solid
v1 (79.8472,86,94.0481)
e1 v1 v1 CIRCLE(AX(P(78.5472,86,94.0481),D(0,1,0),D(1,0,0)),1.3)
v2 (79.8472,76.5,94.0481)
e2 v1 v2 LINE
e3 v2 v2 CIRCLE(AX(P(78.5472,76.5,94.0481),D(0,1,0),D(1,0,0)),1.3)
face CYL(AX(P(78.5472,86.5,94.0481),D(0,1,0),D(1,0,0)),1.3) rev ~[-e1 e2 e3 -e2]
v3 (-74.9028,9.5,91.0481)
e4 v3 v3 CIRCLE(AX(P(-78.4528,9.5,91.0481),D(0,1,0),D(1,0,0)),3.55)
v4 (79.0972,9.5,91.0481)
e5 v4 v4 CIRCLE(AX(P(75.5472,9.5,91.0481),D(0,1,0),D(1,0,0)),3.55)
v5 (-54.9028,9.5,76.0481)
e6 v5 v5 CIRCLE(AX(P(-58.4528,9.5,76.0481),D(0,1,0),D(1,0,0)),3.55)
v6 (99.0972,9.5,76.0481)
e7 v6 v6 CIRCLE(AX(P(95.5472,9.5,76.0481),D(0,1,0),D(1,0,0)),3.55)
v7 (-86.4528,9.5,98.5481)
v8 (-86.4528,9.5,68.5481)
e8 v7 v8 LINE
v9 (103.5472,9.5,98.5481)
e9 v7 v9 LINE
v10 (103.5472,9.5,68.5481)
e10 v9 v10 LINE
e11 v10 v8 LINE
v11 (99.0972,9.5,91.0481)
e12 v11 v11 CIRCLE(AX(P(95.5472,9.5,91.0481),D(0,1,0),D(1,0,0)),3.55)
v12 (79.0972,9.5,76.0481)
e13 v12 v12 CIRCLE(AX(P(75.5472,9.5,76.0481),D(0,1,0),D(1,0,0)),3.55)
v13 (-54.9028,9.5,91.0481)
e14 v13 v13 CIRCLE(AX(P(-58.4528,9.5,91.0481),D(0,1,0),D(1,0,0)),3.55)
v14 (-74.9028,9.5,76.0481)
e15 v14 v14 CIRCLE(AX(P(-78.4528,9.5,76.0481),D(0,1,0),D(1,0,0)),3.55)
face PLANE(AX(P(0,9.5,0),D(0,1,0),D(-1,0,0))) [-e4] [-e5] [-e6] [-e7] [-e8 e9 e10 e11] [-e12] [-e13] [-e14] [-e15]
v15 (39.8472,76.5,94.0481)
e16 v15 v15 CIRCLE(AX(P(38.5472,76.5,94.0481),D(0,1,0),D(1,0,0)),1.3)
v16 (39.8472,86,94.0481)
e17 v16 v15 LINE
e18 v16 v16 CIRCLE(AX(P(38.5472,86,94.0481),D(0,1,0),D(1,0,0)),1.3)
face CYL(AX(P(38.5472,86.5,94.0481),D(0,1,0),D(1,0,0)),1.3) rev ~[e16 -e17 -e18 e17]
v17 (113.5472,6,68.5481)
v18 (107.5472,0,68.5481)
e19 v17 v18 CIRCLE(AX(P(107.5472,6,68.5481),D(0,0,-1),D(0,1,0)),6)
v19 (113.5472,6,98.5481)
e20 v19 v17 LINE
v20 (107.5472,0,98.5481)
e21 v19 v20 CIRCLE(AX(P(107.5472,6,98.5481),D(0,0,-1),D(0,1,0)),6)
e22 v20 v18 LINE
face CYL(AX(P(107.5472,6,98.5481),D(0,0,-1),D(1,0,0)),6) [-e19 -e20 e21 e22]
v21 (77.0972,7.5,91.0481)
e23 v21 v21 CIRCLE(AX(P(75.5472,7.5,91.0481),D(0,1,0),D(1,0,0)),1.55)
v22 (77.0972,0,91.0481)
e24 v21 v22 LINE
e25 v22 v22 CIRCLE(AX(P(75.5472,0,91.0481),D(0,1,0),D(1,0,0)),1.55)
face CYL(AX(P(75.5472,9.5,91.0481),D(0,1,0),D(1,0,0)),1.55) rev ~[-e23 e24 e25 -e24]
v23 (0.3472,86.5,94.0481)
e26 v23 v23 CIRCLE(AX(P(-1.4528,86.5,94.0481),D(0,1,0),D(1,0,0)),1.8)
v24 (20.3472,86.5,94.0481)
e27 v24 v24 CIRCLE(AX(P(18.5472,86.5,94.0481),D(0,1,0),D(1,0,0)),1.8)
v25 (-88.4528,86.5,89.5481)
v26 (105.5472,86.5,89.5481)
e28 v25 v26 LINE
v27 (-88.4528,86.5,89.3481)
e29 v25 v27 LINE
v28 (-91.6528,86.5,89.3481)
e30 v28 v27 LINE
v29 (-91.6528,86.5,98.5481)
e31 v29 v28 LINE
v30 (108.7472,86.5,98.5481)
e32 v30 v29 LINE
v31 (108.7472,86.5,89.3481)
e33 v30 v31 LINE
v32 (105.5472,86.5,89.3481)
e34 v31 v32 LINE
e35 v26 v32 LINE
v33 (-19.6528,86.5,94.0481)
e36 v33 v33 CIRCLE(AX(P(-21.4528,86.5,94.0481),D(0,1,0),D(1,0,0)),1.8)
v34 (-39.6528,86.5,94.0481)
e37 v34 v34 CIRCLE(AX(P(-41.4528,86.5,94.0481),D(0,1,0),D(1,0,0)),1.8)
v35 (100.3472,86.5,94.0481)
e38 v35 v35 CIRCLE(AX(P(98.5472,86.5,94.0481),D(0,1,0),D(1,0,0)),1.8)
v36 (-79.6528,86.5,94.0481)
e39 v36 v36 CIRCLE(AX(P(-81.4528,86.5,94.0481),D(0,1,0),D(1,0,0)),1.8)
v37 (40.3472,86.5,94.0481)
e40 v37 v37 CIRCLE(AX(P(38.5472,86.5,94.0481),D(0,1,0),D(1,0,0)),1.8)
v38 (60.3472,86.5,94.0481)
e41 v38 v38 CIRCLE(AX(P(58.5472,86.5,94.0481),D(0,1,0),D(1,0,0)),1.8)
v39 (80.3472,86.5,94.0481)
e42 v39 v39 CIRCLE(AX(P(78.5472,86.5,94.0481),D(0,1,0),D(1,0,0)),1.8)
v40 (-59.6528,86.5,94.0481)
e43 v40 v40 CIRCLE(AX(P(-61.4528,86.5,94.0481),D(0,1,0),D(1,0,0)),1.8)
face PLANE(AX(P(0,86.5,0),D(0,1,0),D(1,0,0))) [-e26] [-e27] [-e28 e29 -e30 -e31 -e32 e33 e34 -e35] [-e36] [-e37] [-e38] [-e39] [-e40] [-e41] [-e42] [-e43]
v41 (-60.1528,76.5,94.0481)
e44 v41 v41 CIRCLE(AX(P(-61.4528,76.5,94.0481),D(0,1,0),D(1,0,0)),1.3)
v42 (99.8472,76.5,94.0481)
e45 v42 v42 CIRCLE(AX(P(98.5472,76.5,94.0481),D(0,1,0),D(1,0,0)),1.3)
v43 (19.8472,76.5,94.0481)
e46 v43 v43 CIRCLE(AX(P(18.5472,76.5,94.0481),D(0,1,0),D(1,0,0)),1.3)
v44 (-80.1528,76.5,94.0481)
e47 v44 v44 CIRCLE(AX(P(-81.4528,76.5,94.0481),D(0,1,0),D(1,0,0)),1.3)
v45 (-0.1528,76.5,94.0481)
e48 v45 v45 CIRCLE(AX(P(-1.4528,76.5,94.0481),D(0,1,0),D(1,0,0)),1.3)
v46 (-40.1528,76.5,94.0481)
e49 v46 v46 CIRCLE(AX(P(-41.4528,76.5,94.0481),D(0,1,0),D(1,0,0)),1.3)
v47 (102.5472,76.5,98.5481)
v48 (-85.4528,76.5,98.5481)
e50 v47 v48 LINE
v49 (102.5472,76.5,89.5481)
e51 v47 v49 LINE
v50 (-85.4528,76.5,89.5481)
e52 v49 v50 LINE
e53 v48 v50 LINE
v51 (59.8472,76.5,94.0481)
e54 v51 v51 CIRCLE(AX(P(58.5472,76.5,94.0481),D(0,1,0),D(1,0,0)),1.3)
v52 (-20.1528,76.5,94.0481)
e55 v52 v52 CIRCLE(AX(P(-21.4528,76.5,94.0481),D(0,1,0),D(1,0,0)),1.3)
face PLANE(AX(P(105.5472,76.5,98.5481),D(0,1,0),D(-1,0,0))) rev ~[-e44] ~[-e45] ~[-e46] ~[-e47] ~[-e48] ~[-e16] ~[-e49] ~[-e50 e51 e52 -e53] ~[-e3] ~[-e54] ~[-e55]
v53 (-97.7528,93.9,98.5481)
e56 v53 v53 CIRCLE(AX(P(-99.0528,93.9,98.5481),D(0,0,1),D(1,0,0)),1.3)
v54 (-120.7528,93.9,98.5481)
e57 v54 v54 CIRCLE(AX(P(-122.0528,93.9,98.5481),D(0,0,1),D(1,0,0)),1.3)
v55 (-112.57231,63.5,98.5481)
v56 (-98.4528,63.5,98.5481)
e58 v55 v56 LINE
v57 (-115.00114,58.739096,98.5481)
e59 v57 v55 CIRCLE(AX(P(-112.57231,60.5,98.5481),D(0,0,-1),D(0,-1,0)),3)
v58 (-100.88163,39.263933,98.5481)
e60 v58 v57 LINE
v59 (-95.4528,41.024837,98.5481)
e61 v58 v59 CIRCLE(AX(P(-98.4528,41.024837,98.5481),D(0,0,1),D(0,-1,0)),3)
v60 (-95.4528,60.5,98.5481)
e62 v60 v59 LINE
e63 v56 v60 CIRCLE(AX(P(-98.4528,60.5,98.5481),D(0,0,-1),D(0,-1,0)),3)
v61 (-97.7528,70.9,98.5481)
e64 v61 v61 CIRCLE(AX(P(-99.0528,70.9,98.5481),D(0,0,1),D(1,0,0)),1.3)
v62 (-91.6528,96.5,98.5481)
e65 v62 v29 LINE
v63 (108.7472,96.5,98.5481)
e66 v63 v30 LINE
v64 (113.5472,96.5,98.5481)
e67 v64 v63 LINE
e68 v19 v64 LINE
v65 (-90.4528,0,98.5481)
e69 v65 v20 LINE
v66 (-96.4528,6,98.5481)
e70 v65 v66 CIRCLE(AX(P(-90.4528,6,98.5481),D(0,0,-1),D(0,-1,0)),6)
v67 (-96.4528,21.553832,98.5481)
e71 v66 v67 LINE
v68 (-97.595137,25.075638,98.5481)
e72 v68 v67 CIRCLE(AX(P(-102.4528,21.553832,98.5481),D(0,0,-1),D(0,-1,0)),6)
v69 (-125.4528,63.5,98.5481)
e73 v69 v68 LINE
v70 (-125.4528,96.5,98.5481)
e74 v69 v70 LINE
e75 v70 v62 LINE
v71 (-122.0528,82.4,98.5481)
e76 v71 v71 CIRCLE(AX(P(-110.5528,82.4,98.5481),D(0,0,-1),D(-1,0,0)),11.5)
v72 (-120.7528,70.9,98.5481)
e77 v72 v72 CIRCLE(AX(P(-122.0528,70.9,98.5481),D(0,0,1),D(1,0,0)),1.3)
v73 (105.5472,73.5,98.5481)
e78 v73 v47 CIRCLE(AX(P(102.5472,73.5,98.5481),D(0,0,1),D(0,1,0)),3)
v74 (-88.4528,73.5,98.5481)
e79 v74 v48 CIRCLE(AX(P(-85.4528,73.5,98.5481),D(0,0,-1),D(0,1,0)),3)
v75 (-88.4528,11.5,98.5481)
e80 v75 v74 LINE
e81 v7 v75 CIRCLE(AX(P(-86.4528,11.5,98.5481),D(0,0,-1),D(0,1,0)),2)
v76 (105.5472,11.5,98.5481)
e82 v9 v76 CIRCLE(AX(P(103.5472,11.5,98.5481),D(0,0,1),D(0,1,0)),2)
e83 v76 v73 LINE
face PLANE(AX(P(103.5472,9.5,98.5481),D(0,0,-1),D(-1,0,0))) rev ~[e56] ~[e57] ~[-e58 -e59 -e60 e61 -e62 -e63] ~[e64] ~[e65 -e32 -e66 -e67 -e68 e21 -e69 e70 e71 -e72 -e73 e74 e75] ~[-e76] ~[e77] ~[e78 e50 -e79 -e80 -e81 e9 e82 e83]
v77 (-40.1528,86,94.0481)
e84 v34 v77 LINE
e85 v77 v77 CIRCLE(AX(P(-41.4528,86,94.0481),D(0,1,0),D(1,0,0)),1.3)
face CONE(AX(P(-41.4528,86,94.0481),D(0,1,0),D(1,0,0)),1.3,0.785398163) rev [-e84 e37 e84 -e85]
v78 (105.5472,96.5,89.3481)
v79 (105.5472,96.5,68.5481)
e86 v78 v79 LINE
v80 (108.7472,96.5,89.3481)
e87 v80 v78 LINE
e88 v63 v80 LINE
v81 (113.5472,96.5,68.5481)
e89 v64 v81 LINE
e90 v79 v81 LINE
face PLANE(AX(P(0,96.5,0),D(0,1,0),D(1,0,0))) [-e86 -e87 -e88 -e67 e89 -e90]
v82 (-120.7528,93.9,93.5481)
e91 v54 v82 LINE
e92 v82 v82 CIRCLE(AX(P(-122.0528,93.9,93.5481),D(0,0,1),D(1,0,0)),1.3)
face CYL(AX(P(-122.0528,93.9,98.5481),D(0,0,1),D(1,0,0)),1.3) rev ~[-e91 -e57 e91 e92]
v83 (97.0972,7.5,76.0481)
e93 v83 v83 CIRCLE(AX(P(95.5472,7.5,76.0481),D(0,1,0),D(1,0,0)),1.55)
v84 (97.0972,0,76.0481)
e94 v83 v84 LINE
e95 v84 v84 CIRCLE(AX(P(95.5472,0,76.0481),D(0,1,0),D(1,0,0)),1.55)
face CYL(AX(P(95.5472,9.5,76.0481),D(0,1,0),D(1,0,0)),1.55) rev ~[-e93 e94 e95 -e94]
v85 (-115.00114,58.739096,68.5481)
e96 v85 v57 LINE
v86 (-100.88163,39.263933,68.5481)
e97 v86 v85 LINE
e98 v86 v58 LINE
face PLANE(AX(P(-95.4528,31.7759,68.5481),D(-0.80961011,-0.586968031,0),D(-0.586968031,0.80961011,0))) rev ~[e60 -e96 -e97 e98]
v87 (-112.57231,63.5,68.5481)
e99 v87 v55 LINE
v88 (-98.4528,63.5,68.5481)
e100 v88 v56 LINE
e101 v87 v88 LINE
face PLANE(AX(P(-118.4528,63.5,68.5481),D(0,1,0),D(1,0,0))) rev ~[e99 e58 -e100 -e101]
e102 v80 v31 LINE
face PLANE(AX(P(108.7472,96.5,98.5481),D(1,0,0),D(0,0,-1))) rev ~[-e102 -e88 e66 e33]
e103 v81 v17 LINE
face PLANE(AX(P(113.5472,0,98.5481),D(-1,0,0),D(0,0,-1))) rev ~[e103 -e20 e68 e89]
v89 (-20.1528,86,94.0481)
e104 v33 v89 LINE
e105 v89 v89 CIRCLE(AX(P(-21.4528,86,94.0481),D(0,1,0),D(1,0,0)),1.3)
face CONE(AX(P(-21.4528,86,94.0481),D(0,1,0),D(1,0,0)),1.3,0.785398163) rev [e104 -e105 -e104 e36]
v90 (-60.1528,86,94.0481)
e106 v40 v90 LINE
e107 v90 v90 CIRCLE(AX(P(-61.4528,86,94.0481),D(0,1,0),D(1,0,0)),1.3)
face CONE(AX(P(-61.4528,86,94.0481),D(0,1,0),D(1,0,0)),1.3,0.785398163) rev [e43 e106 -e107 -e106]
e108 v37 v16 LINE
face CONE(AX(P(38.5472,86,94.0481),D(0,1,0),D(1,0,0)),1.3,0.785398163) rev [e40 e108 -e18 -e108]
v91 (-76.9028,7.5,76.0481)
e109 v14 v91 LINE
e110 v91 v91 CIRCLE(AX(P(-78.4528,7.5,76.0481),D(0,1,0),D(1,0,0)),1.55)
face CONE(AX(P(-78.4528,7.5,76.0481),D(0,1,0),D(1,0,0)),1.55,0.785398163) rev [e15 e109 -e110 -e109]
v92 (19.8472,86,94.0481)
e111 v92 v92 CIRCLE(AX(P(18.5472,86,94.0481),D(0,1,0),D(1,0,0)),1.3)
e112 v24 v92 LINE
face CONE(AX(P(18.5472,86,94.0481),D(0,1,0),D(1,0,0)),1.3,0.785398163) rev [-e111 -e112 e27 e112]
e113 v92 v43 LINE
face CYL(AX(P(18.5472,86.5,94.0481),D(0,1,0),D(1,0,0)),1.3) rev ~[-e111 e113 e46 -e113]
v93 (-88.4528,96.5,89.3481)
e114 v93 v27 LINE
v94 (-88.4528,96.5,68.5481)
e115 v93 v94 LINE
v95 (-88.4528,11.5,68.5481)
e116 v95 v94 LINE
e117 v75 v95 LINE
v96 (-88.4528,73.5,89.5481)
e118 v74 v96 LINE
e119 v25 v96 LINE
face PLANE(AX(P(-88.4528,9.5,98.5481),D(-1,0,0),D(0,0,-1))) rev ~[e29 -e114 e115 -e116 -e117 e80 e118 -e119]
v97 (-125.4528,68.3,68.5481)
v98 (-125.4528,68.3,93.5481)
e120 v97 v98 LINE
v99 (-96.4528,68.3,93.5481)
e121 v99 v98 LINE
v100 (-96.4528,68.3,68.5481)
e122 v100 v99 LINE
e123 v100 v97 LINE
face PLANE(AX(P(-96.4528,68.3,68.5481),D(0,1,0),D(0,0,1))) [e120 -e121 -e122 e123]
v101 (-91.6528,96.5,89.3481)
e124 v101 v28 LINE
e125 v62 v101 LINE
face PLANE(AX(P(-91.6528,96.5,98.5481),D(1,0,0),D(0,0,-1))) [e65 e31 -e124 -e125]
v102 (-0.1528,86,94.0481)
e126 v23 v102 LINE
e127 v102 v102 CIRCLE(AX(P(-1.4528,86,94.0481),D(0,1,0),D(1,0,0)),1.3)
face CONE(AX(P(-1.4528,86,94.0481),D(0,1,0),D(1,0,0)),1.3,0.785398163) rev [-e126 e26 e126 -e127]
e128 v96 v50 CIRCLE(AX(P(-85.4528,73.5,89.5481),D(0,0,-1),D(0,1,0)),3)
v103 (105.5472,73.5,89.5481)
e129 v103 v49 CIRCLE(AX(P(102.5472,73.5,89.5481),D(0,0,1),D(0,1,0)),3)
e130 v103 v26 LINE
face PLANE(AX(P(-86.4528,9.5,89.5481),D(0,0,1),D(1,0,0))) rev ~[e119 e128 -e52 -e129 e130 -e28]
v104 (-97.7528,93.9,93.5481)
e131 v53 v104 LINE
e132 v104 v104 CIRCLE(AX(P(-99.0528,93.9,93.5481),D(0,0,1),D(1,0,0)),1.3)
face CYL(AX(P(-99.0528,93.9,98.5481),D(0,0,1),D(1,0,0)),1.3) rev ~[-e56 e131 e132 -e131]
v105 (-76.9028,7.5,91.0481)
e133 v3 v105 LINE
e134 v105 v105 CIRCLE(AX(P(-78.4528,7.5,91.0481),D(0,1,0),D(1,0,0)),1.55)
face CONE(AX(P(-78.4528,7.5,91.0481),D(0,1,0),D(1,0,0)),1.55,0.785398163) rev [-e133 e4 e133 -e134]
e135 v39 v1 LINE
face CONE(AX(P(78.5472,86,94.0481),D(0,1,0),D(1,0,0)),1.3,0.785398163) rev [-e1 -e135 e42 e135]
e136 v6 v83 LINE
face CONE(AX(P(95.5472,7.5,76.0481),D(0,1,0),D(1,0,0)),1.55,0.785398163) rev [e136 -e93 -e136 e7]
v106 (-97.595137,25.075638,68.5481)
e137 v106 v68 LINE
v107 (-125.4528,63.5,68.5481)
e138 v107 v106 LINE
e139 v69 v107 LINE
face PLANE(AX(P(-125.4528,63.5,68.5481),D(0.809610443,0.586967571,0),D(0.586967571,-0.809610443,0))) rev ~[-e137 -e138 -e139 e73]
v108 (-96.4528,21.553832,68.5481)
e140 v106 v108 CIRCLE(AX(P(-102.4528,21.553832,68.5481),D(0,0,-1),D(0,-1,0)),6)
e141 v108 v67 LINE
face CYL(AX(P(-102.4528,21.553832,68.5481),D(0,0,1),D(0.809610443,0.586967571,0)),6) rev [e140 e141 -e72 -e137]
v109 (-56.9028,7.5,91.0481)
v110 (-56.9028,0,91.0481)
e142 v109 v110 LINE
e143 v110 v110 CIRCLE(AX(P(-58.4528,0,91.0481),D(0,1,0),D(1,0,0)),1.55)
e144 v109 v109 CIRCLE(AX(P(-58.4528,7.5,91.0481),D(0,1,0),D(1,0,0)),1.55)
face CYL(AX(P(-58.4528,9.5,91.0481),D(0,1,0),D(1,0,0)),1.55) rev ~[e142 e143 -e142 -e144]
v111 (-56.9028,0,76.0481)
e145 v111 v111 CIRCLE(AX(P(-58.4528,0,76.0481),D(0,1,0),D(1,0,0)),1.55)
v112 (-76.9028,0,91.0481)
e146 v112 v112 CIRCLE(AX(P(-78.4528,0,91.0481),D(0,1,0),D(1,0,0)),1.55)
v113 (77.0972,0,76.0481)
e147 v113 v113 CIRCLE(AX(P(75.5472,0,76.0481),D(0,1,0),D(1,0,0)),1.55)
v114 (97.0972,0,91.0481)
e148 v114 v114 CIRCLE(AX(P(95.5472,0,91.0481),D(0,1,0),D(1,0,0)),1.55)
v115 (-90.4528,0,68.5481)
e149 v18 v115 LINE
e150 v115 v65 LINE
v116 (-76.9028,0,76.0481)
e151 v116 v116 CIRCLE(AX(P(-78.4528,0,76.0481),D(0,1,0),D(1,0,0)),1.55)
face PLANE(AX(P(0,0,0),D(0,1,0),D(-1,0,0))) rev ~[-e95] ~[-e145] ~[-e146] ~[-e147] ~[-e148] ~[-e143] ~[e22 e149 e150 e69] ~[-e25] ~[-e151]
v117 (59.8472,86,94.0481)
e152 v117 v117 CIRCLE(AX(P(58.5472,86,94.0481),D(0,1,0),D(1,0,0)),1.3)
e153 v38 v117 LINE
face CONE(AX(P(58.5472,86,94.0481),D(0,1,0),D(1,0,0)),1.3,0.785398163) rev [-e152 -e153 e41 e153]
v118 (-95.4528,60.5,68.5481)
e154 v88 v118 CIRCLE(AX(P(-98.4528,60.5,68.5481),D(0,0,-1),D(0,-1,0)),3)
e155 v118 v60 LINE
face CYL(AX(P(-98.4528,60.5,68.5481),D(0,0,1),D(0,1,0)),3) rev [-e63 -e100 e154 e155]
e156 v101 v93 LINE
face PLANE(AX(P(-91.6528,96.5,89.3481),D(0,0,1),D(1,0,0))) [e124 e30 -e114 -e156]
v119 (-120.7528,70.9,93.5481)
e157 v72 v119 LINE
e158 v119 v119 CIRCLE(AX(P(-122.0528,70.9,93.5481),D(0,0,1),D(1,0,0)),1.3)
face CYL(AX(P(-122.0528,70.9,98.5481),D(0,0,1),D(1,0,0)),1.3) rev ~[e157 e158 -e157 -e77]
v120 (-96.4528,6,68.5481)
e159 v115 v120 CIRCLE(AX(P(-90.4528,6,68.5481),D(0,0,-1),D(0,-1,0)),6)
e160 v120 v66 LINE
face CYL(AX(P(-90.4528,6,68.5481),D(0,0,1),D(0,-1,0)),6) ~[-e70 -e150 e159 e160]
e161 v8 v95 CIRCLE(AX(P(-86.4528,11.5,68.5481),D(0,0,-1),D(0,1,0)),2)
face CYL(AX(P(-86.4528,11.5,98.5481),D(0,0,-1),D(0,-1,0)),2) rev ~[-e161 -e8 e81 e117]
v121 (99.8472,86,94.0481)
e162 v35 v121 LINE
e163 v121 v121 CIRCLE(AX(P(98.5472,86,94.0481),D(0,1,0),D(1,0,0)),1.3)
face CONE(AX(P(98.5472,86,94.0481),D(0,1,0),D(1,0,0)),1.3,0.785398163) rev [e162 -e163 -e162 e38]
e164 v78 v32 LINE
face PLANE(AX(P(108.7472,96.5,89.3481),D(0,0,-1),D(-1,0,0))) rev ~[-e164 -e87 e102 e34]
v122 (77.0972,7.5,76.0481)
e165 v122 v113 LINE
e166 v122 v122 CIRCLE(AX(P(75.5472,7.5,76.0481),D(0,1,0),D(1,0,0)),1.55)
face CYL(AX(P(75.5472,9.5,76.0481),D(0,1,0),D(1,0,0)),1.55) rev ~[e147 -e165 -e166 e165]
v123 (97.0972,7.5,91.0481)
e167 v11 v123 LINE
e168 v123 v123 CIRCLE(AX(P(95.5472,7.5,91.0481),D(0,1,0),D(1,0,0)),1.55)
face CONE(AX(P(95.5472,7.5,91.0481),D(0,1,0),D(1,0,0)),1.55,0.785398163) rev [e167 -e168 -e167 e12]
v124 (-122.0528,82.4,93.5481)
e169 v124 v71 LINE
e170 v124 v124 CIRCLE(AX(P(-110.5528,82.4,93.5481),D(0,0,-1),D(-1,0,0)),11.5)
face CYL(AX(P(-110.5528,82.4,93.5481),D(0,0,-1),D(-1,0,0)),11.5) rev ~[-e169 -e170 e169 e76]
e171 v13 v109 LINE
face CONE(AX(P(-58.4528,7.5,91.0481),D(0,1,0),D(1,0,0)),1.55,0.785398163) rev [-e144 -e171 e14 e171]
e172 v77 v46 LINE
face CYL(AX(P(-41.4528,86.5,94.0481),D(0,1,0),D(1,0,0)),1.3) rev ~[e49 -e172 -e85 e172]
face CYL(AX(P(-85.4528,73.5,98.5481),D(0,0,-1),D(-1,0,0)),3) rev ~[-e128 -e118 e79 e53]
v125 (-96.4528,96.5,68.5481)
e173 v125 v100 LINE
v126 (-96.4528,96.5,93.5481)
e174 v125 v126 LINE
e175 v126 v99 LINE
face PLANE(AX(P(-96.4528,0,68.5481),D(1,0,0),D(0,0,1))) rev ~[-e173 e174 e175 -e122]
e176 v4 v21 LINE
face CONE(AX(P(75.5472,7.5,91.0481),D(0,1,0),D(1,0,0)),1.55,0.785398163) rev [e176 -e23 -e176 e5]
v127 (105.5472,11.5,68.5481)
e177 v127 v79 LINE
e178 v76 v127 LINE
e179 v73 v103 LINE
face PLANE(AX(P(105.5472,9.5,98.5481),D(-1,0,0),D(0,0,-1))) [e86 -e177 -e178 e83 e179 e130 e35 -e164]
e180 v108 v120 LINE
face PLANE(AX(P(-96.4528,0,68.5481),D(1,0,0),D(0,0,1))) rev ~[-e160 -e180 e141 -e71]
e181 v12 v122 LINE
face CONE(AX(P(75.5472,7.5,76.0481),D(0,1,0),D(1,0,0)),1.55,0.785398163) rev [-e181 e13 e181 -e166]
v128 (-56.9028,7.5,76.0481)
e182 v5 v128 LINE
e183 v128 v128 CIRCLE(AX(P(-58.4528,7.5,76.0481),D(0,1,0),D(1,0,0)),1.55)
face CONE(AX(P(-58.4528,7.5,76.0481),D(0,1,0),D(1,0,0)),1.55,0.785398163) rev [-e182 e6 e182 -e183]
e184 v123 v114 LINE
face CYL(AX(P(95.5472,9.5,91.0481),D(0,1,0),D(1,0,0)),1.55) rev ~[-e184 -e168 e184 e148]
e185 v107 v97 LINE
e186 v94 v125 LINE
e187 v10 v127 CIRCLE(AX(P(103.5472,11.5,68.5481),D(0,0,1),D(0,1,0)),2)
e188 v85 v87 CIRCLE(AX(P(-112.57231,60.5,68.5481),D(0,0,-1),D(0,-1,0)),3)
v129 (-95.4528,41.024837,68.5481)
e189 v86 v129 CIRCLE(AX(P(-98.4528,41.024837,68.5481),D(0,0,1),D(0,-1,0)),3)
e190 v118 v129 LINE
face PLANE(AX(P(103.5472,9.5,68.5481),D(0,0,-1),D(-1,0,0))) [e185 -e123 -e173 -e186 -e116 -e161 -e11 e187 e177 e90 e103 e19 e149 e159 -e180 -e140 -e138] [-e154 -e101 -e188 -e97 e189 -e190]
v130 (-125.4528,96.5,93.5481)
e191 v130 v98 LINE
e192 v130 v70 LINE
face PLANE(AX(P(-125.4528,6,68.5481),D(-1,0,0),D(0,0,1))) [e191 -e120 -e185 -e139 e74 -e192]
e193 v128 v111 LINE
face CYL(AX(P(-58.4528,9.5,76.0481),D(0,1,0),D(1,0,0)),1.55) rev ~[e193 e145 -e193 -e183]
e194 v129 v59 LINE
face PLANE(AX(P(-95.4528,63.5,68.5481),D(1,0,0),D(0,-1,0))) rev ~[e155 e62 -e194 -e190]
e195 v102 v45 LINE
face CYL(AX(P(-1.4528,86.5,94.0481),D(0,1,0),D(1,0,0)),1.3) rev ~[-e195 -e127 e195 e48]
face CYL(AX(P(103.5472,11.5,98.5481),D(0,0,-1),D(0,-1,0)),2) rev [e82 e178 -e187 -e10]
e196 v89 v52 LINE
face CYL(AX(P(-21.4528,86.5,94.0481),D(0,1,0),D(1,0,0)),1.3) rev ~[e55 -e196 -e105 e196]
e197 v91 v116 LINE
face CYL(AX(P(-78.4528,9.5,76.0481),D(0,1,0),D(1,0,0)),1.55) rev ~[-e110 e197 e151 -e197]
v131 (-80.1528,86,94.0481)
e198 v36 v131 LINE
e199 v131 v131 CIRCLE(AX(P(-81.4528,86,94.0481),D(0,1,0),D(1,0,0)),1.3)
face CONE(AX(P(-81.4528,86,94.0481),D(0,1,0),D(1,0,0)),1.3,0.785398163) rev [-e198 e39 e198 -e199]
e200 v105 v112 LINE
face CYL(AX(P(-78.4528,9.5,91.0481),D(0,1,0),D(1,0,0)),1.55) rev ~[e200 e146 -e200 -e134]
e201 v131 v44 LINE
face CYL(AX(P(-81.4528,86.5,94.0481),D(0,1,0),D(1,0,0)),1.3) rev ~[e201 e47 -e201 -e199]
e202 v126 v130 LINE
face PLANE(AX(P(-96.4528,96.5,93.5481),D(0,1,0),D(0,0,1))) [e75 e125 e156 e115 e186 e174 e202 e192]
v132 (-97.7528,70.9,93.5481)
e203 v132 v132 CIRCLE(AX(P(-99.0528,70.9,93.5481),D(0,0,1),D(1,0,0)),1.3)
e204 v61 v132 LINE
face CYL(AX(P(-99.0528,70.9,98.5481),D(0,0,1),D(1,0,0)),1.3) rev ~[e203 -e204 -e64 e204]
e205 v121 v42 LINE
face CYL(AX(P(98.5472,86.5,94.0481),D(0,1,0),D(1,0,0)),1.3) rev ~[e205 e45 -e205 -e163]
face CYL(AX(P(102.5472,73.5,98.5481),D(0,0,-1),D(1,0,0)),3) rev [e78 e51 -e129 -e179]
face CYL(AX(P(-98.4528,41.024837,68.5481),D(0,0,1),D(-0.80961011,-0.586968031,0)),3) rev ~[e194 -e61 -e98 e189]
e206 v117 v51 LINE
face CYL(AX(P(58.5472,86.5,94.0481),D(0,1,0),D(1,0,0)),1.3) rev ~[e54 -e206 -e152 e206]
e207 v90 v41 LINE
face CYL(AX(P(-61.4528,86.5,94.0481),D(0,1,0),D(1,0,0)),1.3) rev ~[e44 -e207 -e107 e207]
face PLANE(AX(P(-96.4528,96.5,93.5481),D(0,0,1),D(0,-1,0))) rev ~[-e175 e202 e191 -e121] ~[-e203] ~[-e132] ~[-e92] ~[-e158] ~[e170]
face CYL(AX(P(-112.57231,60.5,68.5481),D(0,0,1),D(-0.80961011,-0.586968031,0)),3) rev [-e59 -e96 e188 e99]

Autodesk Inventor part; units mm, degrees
ref_plane "YZ Plane" through (0, 0, 0) normal (1, 0, 0) x (0, 1, 0)
ref_plane "XZ Plane" through (0, 0, 0) normal (0, 1, 0) x (-1, 0, 0)
ref_plane "XY Plane" through (0, 0, 0) normal (0, 0, 1) x (1, 0, 0)
sketch "Sketch1" plane through (0, 0, 0) normal (0, 1, 0) x (-1, 0, 0)
  line L0 (96.4528, 98.5481) -> (-113.5472, 98.5481)
  line L1 (-113.5472, 98.5481) -> (-113.5472, 68.5481)
  line L2 (-113.5472, 68.5481) -> (96.4528, 68.5481)
  line L3 (96.4528, 68.5481) -> (96.4528, 98.5481)
  point P0 (0, 0)
  dimension "d0" = 210
  dimension "d1" = 30
extrude "Extrusion1" add sketch "Sketch1" along normal blind 9.5
sketch "Sketch2" plane through (0, 9.5, 0) normal (0, 1, 0) x (1, 0, 0)
  line L0 (-96.4528, -68.5481) -> (-96.4528, -98.5481) projected
  line L1 (-96.4528, -98.5481) -> (-88.4528, -98.5481)
  line L2 (-88.4528, -98.5481) -> (-88.4528, -68.5481)
  line L3 (-88.4528, -68.5481) -> (-96.4528, -68.5481)
  line L4 (-96.4528, -68.5481) -> (-96.4528, -98.5481)
  line L5 (113.5472, -98.5481) -> (113.5472, -68.5481) projected
  line L6 (113.5472, -98.5481) -> (105.5472, -98.5481)
  line L7 (105.5472, -98.5481) -> (105.5472, -68.5481)
  line L8 (105.5472, -68.5481) -> (113.5472, -68.5481)
  line L9 (113.5472, -68.5481) -> (113.5472, -98.5481)
  point P0 (0, 0)
  point P1 (-96.4528, -68.5481)
  point P2 (-96.4528, -68.5481)
  dimension "d4" = 8
  dimension "d5" = 8
  dimension "d6" = 30
extrude "Extrusion2" add sketch "Sketch2" along normal blind 87
sketch "Sketch3" plane through (0, 9.5, 0) normal (0, 1, 0) x (1, 0, 0)
  circle A0 centre (95.5472, -91.0481) radius 1.55
  circle A1 centre (95.5472, -76.0481) radius 1.55
  circle A2 centre (-78.4528, -76.0481) radius 1.55
  circle A3 centre (-78.4528, -91.0481) radius 1.55
  circle A4 centre (75.5472, -91.0481) radius 1.55
  circle A5 centre (75.5472, -76.0481) radius 1.55
  circle A6 centre (-58.4528, -91.0481) radius 1.55
  circle A7 centre (-58.4528, -76.0481) radius 1.55
  line L0 (-88.4528, -98.5481) -> (105.5472, -98.5481) projected
  line L1 (105.5472, -68.5481) -> (105.5472, -98.5481) projected
  line L2 (-88.4528, -98.5481) -> (-88.4528, -68.5481) projected
  point P0 (0, 0)
  dimension "d9" = 3.1
  dimension "d10" = 3.1
  dimension "d11" = 3.1
  dimension "d12" = 3.1
  dimension "d13" = 3.1
  dimension "d14" = 3.1
  dimension "d15" = 3.1
  dimension "d16" = 3.1
  dimension "d17" = 20
  dimension "d18" = 15
  dimension "d19" = 20
  dimension "d20" = 15
  dimension "d21" = 7.5
  dimension "d22" = 7.5
  dimension "d23" = 10
  dimension "d24" = 10
  dimension "d25" = 7.5
  dimension "d26" = 7.5
  dimension "d27" = 10
  dimension "d28" = 10
  dimension "d29" = 15
  dimension "d30" = 20
  dimension "d31" = 15
  dimension "d32" = 20
extrude "Extrusion3" cut sketch "Sketch3" against normal through all
chamfer "Chamfer1" distance 2 angle 45 8 edges at (93.9972, 9.5, 91.0481) (93.9972, 9.5, 76.0481) (73.9972, 9.5, 76.0481) (73.9972, 9.5, 91.0481) (-60.0028, 9.5, 91.0481) (-80.0028, 9.5, 91.0481) (-80.0028, 9.5, 76.0481) (-60.0028, 9.5, 76.0481)
fillet "Fillet1" radius 2 2 edges at (105.5472, 9.5, 83.5481) (-88.4528, 9.5, 83.5481)
fillet "Fillet2" radius 6 2 edges at (113.5472, 0, 83.5481) (-96.4528, 0, 83.5481)
sketch "Sketch4" plane through (-86.4528, 9.5, 98.5481) normal (0, 0, 1) x (1, 0, 0)
  line L0 (-2, 2) -> (-2, 87) projected
  line L1 (192, 2) -> (192, 87) projected
  line L2 (-2, 77) -> (192, 77)
  line L3 (192, 77) -> (192, 67)
  line L4 (192, 67) -> (-2, 67)
  line L5 (-2, 67) -> (-2, 77)
  line L6 (-10, 87) -> (-2, 87) projected
  point P0 (86.4528, -9.5)
  point P1 (-2, 67)
  point P2 (192, 77)
  dimension "d40" = 10
  dimension "d41" = 10
extrude "Extrusion4" add sketch "Sketch4" against normal blind 9
sketch "Sketch5" plane through (0, 96.5, 0) normal (0, 1, 0) x (1, 0, 0)
  line L0 (105.5472, -98.5481) -> (105.5472, -68.5481) projected
  line L1 (105.5472, -98.5481) -> (108.7472, -98.5481)
  line L2 (108.7472, -98.5481) -> (108.7472, -89.3481)
  line L3 (108.7472, -89.3481) -> (105.5472, -89.3481)
  line L4 (105.5472, -89.3481) -> (105.5472, -98.5481)
  line L5 (-88.4528, -98.5481) -> (-88.4528, -68.5481) projected
  line L6 (-88.4528, -98.5481) -> (-91.6528, -98.5481)
  line L7 (-91.6528, -98.5481) -> (-91.6528, -89.3481)
  line L8 (-91.6528, -89.3481) -> (-88.4528, -89.3481)
  line L9 (-88.4528, -89.3481) -> (-88.4528, -98.5481)
  point P0 (0, 0)
  dimension "d44" = 3.2
  dimension "d45" = 9.2
  dimension "d46" = 3.2
  dimension "d47" = 9.2
extrude "Extrusion5" cut sketch "Sketch5" against normal up to surface (10 mm away)
sketch "Sketch6" plane through (-88.4528, 86.5, 89.5481) normal (0, 1, 0) x (1, 0, 0)
  circle A0 centre (187, -4.5) radius 1.3
  line L0 (197.2, -9) -> (-3.2, -9) projected
  line L1 (197.2, 0.2) -> (197.2, -9) projected
  circle A1 centre (167, -4.5) radius 1.3
  circle A2 centre (147, -4.5) radius 1.3
  circle A3 centre (127, -4.5) radius 1.3
  circle A4 centre (107, -4.5) radius 1.3
  circle A5 centre (87, -4.5) radius 1.3
  circle A6 centre (67, -4.5) radius 1.3
  circle A7 centre (47, -4.5) radius 1.3
  circle A8 centre (27, -4.5) radius 1.3
  circle A9 centre (7, -4.5) radius 1.3
  point P0 (88.4528, 89.5481)
  dimension "d50" = 2.6
  dimension "d51" = 4.5
  dimension "d52" = 10.2
  dimension "d55" = 20
extrude "Extrusion6" cut sketch "Sketch6" against normal up to surface (10 mm away)
chamfer "Chamfer2" distance 0.5 angle 45 10 edges at (97.2472, 86.5, 94.0481) (77.2472, 86.5, 94.0481) (57.2472, 86.5, 94.0481) (37.2472, 86.5, 94.0481) (17.2472, 86.5, 94.0481) (-2.7528, 86.5, 94.0481) (-22.7528, 86.5, 94.0481) (-42.7528, 86.5, 94.0481) (-62.7528, 86.5, 94.0481) (-82.7528, 86.5, 94.0481)
sketch "Sketch7" plane through (-96.4528, 96.5, 68.5481) normal (-1, 0, 0) x (0, 0, 1)
  line L0 (0, 0) -> (30, 0) projected
  line L1 (30, 0) -> (25, 0)
  line L2 (25, 0) -> (25, -33)
  line L3 (25, -33) -> (30, -33)
  line L4 (30, -33) -> (30, 0)
  point P0 (-68.5481, -96.5)
  dimension "d65" = 5
  dimension "d66" = 33
extrude "Extrusion7" add sketch "Sketch7" along normal blind 29
sketch "Sketch8" plane through (-96.4528, 6, 68.5481) normal (-1, 0, 0) x (0, 0, 1)
  line L0 (30, 57.5) -> (25, 57.5) projected
  line L1 (0, 5.5) -> (0, 90.5) projected
  line L2 (25, 57.5) -> (0, 57.5)
  line L3 (0, 57.5) -> (0, 62.3)
  line L4 (0, 62.3) -> (25, 62.3)
  line L5 (25, 62.3) -> (25, 57.5)
  point P0 (-68.5481, -6)
  point P1 (0, 57.5)
  dimension "d69" = 4.8
extrude "Extrusion8" add sketch "Sketch8" along normal blind 29
sketch "Sketch9" plane through (-96.4528, 96.5, 93.5481) normal (0, 0, -1) x (-1, 0, 0)
  circle A0 centre (14.1, -14.1) radius 11.5
  line L0 (0, -28.2) -> (29, -28.2) projected
  line L1 (0, -28.2) -> (0, 0) projected
  point P0 (-96.4528, -96.5)
  dimension "d40" = 10
  dimension "d72" = 23
  dimension "d73" = 14.1
  dimension "d74" = 14.1
extrude "Extrusion9" cut sketch "Sketch9" against normal through all
fillet "Fillet4" radius 3 2 edges at (105.5472, 76.5, 94.0481) (-88.4528, 76.5, 94.0481)
sketch "Sketch10" plane through (103.5472, 9.5, 68.5481) normal (0, 0, -1) x (-1, 0, 0)
  line L0 (200, 54) -> (229, 54) projected
  line L1 (200, 54) -> (229, 54)
  line L2 (229, 54) -> (200, 14)
  line L3 (200, -3.5) -> (200, 54) projected
  line L4 (200, 54) -> (200, 14)
  point P0 (103.5472, -9.5)
  dimension "d79" = 40
extrude "Extrusion10" add sketch "Sketch10" against normal up to surface (30 mm away)
sketch "Sketch11" plane through (103.5472, 9.5, 68.5481) normal (0, 0, -1) x (-1, 0, 0)
  line L0 (222, 54) -> (199, 54)
  line L1 (199, 54) -> (199, 22.2759)
  line L2 (199, 22.2759) -> (222, 54)
  line L3 (200, 58.8) -> (229, 58.8) projected
  line L4 (192, 2) -> (192, 87) projected
  line L5 (200, 14) -> (229, 54) projected
  point P0 (103.5472, -9.5)
  dimension "d82" = 4.8
  dimension "d83" = 7
  dimension "d85" = 23
extrude "Extrusion11" cut sketch "Sketch11" against normal through all
fillet "Fillet5" radius 3 3 edges at (-95.4528, 63.5, 83.5481) (-95.4528, 31.7759, 83.5481) (-118.4528, 63.5, 83.5481)
fillet "Fillet6" radius 6 1 edges at (-96.4528, 23.5, 83.5481)
sketch "Sketch12" plane through (-90.4528, 0, 98.5481) normal (0, 0, 1) x (1, 0, 0)
  circle A0 centre (-31.6, 93.9) radius 1.3
  circle A1 centre (-8.6, 93.9) radius 1.3
  circle A2 centre (-8.6, 70.9) radius 1.3
  circle A3 centre (-31.6, 70.9) radius 1.3
  circle A4 centre (-20.1, 82.4) radius 11.5 projected
  point P0 (90.4528, 0)
  dimension "d90" = 2.6
  dimension "d91" = 2.6
  dimension "d92" = 2.6
  dimension "d93" = 2.6
  dimension "d94" = 11.5
  dimension "d95" = 11.5
  dimension "d96" = 11.5
  dimension "d97" = 11.5
  dimension "d98" = 11.5
  dimension "d99" = 11.5
  dimension "d100" = 11.5
  dimension "d101" = 11.5
extrude "Extrusion12" cut sketch "Sketch12" against normal through all contours A0 | A1 | A2 | A3
properties part number "gantry_R"
